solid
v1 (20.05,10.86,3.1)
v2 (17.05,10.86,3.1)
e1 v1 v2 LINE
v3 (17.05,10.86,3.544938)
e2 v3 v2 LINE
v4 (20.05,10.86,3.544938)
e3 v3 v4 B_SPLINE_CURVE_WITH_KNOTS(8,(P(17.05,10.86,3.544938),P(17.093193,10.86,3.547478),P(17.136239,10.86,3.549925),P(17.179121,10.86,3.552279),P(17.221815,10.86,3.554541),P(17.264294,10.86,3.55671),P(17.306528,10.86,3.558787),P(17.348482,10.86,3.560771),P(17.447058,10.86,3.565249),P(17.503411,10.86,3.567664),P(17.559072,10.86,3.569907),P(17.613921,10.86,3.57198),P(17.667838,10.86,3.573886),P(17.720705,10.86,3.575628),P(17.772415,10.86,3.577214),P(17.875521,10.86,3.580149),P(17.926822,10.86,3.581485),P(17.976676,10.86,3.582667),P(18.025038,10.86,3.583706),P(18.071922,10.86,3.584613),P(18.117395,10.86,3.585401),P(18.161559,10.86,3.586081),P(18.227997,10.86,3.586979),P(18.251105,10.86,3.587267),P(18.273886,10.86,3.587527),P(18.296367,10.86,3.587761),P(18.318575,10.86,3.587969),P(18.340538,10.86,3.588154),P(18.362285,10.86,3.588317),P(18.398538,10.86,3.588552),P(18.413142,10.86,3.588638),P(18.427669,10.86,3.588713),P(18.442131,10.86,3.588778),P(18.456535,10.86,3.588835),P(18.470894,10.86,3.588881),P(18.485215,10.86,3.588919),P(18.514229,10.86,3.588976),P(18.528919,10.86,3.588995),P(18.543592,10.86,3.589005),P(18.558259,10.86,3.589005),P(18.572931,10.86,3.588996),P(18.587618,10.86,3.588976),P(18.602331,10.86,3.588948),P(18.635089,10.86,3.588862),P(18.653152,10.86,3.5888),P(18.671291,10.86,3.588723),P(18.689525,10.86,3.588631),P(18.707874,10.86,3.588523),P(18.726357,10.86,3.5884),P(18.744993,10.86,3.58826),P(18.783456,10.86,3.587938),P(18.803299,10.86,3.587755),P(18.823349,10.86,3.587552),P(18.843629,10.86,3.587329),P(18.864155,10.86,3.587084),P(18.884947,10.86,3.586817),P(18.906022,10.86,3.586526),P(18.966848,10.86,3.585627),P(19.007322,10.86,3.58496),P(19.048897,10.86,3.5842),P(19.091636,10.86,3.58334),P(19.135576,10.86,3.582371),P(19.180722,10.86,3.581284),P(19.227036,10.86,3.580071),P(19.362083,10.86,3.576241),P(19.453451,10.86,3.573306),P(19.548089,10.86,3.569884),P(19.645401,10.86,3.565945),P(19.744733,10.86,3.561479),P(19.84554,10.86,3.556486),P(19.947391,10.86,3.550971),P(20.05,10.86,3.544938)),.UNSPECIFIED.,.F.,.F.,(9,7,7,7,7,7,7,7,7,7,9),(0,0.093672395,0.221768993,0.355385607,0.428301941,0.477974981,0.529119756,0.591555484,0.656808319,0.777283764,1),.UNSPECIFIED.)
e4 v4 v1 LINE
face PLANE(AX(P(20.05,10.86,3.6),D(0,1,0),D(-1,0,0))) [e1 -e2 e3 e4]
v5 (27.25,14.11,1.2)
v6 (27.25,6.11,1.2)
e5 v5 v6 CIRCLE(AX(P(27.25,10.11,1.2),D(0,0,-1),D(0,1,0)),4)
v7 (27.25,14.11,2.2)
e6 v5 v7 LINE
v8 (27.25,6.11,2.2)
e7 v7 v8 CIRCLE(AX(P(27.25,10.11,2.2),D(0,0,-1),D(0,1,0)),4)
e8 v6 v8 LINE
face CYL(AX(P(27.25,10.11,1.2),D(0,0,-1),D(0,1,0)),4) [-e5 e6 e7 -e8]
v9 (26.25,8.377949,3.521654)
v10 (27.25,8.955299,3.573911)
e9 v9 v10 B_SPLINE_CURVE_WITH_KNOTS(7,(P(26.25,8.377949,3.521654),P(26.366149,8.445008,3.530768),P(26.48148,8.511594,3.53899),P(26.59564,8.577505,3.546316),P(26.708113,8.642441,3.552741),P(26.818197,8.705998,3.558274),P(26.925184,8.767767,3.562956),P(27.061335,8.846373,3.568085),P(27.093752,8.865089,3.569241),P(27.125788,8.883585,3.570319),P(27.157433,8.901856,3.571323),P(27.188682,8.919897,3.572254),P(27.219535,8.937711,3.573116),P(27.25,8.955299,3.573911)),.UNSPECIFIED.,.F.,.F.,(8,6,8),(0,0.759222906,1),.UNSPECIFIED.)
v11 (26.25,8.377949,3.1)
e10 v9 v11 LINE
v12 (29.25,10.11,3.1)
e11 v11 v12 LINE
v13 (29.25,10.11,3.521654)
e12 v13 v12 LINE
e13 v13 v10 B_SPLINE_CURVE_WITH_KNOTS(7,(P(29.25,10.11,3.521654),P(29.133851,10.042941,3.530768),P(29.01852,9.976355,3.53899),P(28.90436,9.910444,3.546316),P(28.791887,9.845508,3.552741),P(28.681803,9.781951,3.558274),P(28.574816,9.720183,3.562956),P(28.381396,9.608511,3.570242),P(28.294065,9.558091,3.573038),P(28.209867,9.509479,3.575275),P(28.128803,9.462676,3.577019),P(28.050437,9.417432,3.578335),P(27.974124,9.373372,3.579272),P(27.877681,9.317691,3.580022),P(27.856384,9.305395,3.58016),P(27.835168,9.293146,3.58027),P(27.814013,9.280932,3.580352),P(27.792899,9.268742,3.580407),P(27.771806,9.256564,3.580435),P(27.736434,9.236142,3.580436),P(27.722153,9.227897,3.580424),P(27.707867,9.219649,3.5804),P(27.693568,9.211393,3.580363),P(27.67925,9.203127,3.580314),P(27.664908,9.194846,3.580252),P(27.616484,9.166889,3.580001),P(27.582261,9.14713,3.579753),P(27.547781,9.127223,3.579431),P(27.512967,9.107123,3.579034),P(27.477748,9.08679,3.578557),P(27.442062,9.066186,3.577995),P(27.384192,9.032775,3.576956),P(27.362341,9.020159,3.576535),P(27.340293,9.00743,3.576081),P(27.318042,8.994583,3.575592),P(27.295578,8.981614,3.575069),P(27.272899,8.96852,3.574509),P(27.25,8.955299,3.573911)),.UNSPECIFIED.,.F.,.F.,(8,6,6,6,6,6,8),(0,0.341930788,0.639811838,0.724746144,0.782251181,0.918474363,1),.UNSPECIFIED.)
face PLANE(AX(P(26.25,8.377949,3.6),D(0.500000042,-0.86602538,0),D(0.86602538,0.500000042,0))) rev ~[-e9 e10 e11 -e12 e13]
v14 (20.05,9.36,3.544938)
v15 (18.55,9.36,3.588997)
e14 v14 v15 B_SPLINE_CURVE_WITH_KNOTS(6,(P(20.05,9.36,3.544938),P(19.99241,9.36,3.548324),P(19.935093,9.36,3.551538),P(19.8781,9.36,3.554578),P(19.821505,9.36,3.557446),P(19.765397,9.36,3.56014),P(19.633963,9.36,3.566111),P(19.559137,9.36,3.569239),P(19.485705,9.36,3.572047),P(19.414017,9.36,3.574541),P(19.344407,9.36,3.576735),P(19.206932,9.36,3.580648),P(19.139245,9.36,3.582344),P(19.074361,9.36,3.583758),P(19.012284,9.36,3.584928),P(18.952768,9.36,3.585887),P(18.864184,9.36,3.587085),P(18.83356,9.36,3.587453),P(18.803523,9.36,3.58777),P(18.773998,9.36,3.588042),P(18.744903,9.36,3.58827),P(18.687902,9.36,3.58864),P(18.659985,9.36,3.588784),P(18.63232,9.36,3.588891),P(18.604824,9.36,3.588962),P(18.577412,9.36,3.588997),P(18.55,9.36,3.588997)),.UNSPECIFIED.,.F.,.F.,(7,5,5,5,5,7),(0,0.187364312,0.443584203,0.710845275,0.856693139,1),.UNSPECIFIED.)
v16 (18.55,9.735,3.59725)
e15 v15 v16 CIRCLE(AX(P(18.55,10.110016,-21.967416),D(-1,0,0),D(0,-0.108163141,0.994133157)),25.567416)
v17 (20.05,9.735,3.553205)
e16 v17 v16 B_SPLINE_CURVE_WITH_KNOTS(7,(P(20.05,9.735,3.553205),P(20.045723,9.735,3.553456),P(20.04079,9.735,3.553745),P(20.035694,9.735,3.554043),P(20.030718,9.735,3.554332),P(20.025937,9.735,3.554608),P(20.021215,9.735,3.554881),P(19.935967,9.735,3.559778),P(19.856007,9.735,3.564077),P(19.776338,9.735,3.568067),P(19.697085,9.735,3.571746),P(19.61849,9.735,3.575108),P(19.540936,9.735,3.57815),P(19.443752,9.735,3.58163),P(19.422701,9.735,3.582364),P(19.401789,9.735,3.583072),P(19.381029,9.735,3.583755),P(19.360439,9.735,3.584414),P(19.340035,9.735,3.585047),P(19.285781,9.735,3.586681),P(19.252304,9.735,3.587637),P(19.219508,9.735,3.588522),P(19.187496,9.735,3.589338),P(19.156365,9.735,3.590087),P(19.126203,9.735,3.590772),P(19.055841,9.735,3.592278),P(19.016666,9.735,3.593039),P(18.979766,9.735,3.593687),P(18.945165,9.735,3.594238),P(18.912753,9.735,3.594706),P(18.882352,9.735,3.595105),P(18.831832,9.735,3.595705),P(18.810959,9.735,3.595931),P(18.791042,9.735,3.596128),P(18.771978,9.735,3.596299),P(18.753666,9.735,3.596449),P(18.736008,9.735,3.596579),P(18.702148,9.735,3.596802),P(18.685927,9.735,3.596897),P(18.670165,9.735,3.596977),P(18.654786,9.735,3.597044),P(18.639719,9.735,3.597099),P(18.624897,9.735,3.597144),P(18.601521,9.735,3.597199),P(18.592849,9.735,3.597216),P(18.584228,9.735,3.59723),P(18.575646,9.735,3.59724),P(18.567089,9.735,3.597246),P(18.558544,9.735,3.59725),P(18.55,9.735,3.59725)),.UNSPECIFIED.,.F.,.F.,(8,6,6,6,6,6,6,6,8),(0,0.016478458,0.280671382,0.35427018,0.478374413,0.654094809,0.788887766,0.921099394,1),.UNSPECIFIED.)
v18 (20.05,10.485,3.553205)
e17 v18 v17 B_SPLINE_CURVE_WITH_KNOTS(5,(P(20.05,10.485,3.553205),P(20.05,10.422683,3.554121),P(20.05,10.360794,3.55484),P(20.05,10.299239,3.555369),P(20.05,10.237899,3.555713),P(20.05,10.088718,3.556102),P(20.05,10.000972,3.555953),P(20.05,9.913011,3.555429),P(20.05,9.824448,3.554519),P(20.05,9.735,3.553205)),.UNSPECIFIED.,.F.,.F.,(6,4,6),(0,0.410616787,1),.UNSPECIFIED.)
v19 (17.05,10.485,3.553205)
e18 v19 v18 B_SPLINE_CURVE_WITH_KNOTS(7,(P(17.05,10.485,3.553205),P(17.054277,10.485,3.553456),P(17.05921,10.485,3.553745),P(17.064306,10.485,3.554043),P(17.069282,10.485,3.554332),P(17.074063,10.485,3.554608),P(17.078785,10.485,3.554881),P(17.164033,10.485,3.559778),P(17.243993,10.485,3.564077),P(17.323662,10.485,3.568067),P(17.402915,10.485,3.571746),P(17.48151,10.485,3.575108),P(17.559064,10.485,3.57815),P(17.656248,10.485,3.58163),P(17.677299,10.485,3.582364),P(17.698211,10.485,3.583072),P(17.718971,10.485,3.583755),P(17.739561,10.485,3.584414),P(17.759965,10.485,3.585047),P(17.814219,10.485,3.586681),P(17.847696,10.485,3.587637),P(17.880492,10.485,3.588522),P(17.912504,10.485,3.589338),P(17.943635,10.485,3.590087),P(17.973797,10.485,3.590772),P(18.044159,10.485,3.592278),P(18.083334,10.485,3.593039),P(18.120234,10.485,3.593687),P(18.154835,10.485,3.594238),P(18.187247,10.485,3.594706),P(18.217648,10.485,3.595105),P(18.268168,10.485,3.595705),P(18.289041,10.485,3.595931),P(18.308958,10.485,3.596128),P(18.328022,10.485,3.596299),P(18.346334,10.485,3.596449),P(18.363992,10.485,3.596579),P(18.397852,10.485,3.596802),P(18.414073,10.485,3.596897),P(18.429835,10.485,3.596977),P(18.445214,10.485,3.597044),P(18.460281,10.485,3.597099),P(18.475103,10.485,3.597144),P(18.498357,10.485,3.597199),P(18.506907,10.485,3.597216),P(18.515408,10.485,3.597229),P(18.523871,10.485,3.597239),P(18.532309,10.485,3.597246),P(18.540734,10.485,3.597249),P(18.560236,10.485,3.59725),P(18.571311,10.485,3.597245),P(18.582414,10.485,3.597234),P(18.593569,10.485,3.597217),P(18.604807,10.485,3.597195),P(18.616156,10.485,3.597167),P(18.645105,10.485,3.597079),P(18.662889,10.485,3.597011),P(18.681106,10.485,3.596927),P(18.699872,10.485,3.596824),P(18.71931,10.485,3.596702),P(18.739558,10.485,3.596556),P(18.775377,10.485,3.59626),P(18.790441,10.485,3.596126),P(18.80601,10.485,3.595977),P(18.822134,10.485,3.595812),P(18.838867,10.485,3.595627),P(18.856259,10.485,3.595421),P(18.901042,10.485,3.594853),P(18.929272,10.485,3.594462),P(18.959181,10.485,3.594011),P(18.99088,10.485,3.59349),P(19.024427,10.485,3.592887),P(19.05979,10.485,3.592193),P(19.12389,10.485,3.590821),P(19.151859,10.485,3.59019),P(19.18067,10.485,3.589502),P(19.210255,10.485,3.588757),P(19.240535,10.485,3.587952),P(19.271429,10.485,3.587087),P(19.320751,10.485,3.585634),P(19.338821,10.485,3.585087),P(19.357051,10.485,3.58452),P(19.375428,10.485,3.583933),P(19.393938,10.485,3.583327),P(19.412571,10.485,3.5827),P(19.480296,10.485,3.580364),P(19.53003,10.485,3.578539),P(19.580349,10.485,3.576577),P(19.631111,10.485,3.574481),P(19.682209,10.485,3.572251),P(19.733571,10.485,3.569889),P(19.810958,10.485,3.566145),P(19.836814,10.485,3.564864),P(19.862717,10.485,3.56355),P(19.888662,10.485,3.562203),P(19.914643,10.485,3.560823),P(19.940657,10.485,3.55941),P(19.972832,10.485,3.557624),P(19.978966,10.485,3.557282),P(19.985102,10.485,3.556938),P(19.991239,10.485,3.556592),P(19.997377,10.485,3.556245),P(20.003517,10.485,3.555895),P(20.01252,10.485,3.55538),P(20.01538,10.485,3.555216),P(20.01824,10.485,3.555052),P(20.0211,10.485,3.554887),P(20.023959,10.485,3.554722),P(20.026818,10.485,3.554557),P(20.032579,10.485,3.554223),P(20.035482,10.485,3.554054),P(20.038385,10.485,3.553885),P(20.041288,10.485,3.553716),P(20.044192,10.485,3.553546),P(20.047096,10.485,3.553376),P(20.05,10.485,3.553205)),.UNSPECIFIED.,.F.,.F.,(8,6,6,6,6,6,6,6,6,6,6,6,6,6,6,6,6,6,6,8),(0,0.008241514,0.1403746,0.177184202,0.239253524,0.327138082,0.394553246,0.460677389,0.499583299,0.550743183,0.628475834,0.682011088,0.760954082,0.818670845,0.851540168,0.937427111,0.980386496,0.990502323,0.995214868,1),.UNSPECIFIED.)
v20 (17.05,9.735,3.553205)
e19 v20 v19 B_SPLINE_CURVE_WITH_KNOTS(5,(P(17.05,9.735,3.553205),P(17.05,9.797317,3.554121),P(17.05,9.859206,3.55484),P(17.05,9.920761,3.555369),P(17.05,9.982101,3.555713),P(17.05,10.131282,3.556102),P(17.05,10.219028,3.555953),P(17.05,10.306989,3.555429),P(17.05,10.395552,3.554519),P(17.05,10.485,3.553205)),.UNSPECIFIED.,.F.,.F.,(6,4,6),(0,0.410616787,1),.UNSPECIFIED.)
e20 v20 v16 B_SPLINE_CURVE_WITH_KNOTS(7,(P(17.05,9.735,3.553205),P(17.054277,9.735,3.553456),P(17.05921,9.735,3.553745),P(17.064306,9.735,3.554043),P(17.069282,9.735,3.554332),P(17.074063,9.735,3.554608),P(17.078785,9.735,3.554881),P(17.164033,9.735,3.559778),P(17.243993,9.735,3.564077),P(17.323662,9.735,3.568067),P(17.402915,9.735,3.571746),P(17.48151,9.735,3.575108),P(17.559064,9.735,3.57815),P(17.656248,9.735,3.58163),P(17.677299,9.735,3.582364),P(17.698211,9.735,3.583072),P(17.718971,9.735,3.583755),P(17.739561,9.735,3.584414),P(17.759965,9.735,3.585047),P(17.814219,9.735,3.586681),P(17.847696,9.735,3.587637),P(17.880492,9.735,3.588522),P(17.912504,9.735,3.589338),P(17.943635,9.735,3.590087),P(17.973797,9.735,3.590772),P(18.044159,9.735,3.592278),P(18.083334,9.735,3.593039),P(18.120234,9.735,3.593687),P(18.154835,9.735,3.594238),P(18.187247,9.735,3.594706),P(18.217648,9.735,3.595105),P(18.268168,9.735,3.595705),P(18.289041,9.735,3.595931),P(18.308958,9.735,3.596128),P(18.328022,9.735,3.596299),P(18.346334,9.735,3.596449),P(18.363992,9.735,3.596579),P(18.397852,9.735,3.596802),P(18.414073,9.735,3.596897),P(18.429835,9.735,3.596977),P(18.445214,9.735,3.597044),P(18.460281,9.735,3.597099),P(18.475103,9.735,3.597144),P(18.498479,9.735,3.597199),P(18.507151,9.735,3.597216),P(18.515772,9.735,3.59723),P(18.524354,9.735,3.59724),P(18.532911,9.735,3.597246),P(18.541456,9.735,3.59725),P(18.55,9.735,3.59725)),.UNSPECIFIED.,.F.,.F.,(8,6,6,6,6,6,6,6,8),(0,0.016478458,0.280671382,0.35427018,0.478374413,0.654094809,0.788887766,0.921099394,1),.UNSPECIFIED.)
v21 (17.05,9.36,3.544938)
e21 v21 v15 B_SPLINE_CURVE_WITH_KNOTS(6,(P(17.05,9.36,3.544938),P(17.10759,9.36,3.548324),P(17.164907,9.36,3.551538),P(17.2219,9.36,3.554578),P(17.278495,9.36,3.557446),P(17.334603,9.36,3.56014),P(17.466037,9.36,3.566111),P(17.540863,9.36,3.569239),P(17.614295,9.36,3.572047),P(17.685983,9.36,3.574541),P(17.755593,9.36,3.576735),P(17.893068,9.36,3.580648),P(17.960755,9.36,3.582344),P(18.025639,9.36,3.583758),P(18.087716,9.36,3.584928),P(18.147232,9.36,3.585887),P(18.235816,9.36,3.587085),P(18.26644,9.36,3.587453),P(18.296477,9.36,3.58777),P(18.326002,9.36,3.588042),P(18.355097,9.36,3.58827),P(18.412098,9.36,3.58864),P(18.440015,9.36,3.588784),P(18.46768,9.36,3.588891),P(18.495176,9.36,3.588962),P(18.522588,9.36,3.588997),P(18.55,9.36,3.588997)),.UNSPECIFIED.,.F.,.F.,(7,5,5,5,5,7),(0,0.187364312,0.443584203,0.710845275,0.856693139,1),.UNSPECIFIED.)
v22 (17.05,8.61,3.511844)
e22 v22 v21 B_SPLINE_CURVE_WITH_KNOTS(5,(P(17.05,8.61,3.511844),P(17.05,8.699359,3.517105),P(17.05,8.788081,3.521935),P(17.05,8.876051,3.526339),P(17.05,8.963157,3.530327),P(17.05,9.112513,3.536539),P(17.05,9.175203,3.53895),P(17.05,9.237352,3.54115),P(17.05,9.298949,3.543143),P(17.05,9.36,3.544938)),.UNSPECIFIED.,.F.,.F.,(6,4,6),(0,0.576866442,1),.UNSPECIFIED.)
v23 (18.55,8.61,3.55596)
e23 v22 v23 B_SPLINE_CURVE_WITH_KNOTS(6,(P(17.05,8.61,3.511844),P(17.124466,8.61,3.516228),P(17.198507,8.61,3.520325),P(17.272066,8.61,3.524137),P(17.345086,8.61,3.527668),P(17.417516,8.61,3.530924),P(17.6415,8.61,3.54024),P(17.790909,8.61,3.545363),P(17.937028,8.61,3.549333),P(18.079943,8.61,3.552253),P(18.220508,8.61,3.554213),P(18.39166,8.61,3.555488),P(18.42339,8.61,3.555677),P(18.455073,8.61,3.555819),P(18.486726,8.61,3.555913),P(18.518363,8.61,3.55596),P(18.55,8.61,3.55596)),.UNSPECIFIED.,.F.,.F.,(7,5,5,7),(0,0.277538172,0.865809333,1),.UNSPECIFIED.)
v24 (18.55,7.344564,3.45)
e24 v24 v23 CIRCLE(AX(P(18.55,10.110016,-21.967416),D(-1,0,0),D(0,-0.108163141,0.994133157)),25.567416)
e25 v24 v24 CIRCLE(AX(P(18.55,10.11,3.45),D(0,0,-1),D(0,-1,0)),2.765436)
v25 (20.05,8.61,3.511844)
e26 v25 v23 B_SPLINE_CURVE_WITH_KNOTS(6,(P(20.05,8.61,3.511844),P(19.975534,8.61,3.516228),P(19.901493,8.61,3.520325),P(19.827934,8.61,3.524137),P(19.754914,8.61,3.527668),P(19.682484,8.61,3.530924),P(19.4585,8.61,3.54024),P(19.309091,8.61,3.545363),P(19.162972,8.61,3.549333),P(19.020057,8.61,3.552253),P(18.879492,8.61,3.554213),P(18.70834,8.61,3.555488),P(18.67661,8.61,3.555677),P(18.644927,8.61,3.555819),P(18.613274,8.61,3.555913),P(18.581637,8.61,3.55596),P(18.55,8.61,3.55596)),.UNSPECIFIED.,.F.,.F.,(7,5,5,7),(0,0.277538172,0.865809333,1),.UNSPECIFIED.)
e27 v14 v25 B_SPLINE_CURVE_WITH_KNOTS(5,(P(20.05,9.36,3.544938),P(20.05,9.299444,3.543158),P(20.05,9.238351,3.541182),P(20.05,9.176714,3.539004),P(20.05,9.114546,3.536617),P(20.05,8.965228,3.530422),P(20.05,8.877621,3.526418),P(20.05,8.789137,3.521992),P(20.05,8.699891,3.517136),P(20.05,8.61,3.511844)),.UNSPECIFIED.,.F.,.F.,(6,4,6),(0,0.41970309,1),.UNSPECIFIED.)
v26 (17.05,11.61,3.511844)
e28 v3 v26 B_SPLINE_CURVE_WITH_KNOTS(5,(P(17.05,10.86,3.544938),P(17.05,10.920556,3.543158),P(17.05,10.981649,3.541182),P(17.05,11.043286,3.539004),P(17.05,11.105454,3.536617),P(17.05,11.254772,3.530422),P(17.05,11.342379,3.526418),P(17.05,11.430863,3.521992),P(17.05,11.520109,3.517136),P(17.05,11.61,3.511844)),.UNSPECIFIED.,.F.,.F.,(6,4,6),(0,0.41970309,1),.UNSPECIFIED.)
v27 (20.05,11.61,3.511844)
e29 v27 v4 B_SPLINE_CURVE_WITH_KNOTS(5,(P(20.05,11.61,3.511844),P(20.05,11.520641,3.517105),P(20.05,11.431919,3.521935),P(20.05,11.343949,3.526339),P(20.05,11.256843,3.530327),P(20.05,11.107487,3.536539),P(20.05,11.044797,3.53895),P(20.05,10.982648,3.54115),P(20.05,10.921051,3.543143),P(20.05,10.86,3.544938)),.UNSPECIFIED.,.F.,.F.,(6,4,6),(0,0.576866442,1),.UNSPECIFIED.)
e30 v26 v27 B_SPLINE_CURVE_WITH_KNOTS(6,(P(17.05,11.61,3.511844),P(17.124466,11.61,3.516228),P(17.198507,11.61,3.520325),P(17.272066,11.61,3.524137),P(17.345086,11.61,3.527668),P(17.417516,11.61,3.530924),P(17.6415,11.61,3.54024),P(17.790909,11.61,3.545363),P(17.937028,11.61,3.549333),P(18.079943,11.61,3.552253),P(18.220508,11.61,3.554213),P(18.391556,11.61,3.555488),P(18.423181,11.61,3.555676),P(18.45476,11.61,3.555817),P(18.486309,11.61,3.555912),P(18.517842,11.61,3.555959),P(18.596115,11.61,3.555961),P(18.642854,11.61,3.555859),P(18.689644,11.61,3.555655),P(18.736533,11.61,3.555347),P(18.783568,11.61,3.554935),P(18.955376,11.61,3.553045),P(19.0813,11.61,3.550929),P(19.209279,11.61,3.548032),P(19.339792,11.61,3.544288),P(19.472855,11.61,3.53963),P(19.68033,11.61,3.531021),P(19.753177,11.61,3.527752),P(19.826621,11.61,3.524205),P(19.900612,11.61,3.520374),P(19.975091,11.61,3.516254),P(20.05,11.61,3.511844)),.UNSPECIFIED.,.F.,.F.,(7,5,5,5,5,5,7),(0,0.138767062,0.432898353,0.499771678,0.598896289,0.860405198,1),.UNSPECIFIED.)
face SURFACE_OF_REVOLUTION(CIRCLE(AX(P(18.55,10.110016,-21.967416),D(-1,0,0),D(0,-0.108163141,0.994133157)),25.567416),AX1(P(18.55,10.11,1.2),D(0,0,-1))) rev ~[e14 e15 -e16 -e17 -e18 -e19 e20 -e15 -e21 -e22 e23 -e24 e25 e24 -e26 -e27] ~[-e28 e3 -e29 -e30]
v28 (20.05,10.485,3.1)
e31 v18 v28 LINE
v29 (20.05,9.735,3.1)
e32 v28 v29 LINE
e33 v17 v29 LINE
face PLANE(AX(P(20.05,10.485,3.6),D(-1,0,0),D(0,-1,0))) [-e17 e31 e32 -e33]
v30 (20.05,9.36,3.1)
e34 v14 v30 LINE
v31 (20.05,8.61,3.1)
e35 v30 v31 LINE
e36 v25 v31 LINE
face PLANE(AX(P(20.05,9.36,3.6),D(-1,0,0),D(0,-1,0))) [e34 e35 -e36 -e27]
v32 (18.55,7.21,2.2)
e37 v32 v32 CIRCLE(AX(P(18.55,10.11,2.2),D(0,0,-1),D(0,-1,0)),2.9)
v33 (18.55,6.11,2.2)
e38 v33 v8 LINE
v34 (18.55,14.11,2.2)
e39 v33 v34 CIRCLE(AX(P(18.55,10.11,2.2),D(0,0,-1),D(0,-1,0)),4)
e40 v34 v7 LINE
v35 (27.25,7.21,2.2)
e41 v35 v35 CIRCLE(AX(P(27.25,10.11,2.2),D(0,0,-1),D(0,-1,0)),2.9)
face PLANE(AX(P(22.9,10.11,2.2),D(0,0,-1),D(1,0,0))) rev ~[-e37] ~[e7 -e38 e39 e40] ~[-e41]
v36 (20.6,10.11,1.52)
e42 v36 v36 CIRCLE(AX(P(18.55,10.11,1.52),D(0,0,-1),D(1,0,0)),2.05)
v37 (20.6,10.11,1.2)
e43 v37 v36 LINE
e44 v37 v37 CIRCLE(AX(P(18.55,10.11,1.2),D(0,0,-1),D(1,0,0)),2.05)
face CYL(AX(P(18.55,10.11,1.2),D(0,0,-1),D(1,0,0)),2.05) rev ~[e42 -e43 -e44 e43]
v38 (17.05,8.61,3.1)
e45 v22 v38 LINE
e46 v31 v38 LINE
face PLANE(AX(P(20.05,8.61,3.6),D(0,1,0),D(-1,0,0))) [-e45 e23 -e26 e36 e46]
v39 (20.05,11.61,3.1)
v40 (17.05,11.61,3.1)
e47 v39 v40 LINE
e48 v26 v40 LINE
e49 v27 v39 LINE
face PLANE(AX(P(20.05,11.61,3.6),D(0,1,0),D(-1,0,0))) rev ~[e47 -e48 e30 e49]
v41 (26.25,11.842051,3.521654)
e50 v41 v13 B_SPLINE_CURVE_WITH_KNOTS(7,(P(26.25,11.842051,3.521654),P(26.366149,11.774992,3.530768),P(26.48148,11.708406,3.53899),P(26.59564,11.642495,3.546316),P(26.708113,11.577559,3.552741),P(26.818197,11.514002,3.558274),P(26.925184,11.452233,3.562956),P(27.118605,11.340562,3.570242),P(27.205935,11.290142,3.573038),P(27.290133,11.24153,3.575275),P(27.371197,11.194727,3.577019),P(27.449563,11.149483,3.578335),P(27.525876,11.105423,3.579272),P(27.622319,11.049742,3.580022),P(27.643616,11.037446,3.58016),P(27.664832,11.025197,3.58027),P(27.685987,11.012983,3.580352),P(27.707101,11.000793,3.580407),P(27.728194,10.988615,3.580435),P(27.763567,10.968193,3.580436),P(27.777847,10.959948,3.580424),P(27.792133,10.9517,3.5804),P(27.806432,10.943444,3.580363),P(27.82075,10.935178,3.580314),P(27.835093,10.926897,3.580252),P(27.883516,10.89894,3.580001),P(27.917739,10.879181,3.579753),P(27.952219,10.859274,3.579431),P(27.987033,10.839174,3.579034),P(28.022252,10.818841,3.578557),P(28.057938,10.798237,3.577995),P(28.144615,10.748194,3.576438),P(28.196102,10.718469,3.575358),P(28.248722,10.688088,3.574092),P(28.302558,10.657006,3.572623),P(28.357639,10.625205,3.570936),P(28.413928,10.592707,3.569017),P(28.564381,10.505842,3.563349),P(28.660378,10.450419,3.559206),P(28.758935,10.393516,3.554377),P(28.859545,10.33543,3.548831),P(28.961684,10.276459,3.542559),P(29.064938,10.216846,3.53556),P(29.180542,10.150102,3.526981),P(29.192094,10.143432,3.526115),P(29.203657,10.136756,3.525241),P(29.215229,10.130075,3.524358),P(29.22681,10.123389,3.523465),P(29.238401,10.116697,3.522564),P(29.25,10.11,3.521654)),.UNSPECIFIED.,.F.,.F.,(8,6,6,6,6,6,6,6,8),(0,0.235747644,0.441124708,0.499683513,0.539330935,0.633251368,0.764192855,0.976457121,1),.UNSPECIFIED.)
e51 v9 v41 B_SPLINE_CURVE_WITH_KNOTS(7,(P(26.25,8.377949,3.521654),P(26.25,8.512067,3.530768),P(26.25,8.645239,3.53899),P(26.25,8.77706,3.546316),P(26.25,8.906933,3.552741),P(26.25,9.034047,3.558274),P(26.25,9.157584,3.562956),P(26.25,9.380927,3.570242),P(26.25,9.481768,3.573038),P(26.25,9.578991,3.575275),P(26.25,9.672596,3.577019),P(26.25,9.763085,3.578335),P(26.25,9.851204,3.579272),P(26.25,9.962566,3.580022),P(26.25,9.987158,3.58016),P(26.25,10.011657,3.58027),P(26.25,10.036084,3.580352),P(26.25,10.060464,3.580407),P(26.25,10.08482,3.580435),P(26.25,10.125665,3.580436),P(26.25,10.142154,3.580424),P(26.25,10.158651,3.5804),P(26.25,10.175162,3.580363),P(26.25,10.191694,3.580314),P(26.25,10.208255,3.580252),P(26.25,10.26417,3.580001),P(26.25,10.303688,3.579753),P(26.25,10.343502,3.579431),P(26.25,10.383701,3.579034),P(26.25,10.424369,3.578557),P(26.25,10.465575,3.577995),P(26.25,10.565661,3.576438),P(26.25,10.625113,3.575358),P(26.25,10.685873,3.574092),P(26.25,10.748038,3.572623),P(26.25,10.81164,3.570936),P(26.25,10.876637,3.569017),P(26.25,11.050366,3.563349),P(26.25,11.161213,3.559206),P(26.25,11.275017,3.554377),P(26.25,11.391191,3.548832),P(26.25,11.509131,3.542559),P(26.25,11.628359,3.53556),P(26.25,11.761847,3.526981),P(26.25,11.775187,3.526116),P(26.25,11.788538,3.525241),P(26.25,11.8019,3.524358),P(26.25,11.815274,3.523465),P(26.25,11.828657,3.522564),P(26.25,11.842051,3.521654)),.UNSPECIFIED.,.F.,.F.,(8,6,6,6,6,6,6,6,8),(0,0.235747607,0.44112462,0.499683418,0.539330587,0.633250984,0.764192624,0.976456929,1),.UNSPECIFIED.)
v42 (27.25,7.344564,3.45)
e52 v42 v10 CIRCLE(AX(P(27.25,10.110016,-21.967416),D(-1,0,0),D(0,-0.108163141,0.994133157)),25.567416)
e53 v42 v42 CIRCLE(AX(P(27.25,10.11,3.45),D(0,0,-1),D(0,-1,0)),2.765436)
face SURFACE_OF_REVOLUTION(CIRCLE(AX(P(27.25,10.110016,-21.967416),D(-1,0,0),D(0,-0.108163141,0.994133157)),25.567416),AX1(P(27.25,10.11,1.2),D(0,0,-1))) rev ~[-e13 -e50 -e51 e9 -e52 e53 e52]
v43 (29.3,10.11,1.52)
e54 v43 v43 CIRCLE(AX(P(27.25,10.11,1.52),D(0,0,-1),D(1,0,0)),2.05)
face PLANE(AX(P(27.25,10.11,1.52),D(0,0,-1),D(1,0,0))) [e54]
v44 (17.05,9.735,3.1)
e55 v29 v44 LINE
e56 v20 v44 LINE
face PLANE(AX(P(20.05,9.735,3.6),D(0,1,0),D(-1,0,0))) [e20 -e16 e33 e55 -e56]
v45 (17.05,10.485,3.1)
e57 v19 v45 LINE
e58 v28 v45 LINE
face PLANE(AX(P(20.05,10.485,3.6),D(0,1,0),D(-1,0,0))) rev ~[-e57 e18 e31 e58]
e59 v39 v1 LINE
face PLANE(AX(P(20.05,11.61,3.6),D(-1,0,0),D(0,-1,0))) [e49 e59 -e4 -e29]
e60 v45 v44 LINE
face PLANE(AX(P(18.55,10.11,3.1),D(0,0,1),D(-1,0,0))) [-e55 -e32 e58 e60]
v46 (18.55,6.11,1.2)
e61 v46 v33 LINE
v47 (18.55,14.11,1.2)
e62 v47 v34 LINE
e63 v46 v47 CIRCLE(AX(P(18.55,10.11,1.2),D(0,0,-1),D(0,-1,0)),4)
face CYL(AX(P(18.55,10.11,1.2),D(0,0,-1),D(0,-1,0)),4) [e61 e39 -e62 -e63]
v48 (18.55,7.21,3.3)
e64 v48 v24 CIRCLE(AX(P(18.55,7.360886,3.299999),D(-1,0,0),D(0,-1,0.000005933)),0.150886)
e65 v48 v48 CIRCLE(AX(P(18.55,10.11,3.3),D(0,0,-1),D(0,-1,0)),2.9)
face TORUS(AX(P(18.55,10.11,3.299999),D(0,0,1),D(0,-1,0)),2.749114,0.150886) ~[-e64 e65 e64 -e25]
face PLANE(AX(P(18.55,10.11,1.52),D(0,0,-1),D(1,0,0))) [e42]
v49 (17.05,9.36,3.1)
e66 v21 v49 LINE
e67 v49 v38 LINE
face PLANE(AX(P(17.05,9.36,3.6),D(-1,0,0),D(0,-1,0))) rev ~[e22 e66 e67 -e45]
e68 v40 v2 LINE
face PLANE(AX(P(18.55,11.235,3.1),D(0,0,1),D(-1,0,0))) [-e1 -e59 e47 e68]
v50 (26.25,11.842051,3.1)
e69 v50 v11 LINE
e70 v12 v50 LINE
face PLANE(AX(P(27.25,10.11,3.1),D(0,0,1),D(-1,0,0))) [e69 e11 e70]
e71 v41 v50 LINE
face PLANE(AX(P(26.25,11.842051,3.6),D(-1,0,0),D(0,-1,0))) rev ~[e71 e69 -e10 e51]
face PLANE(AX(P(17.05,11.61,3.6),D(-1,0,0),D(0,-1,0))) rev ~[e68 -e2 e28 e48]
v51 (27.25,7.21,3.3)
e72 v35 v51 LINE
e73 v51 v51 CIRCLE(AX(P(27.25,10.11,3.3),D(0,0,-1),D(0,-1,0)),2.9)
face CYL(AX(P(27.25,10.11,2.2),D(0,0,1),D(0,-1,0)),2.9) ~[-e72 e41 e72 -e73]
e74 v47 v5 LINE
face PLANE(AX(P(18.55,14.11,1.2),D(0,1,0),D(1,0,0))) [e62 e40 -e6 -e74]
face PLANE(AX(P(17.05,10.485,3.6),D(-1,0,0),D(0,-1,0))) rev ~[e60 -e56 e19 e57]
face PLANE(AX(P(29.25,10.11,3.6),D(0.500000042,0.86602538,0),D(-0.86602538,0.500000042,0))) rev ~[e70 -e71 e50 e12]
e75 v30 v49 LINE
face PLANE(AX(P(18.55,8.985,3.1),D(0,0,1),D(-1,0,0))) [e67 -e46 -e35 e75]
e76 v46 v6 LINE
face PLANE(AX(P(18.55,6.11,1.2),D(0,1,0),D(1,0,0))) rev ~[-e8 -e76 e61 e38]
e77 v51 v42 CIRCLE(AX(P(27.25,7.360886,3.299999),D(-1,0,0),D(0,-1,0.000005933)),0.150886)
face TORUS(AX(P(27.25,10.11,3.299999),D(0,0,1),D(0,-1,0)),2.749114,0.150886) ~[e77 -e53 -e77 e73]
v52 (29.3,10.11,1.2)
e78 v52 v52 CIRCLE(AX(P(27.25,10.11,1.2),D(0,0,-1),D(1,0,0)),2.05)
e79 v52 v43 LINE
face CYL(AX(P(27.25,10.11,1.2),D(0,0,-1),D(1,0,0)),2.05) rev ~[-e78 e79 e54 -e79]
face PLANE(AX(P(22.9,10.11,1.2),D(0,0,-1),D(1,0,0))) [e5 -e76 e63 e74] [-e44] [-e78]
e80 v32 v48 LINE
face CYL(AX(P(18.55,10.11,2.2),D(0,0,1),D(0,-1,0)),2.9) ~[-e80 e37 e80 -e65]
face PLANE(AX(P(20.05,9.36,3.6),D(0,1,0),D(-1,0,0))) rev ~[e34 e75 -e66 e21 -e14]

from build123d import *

# Parameters (mm, degrees)
PAD005_DEPTH           = 1
SKETCH011_R            = 2.05
POCKET008_DEPTH        = 0.32
LINEARPATTERN002_COUNT = 2
LINEARPATTERN002_PITCH = 8.7
LINEARPATTERN003_COUNT = 2
LINEARPATTERN003_PITCH = 8.7
SKETCH013_W            = 3
SKETCH013_H            = 0.75
POCKET009_DEPTH        = 0.5


with BuildPart() as part:
    # Sketch010 (on DatumPlane) → Pad005 (new body)
    with BuildSketch(Plane(origin=(0, 0, 1.2), x_dir=(1, 0, 0), z_dir=(0, 0, -1))):
        with BuildLine():
            ThreePointArc((18.55, -6.11), (14.55, -10.11), (18.55, -14.11))
            Line((18.55, -14.11), (27.25, -14.11))
            ThreePointArc((27.25, -14.11), (31.25, -10.11), (27.25, -6.11))
            Line((18.55, -6.11), (27.25, -6.11))
        make_face()
    extrude(amount=-PAD005_DEPTH)

    # Sketch011 (on Face2 of Pad005) → Pocket008 (cut)
    with BuildSketch(Plane(origin=(0, 0, 1.2), x_dir=(1, 0, 0), z_dir=(0, 0, -1))):
        with Locations((18.55, -10.11)):
            Circle(SKETCH011_R)
    pocket008 = extrude(amount=-POCKET008_DEPTH, mode=Mode.SUBTRACT)

    # LinearPattern002: Pocket008 ×2
    with Locations(*[(i * LINEARPATTERN002_PITCH, 0, 0) for i in range(1, LINEARPATTERN002_COUNT)]):
        add(pocket008, mode=Mode.SUBTRACT)

    # Sketch012 (on DatumPlane) → Revolution001 (revolve)
    with BuildSketch(Plane(origin=(18.55, 6.74, 1.2), x_dir=(0, -1, 0), z_dir=(-1, 0, 0))):
        with BuildLine():
            Line((-3.37, 1), (-3.37, 2.4))
            ThreePointArc((-0.604564, 2.25), (-1.985249, 2.362472), (-3.37, 2.4))
            ThreePointArc((-0.47, 2.1), (-0.508571, 2.200756), (-0.604564, 2.25))
            Line((-0.47, 1), (-0.47, 2.1))
            Line((-3.37, 1), (-0.47, 1))
        make_face()
    revolution001 = revolve(axis=Axis((18.55, 10.11, 1.2), (0, 0, -1)))

    # LinearPattern003: Revolution001 ×2
    with Locations(*[(i * LINEARPATTERN003_PITCH, 0, 0) for i in range(1, LINEARPATTERN003_COUNT)]):
        add(revolution001)

    # Sketch013 (on DatumPlane) → Pocket009 (cut)
    with BuildSketch(Plane(origin=(27.25, 10.11, 3.6), x_dir=(-1, 0, 0), z_dir=(0, 0, 1))):
        Polygon((1, 1.732051), (-2, 0), (1, -1.732051), align=None)
        with Locations((8.7, 0)):
            Rectangle(SKETCH013_W, SKETCH013_H)
        with Locations((8.7, 1.125)):
            Rectangle(SKETCH013_W, SKETCH013_H)
        with Locations((8.7, -1.125)):
            Rectangle(SKETCH013_W, SKETCH013_H)
    extrude(amount=-POCKET009_DEPTH, mode=Mode.SUBTRACT)


solid = part.part
